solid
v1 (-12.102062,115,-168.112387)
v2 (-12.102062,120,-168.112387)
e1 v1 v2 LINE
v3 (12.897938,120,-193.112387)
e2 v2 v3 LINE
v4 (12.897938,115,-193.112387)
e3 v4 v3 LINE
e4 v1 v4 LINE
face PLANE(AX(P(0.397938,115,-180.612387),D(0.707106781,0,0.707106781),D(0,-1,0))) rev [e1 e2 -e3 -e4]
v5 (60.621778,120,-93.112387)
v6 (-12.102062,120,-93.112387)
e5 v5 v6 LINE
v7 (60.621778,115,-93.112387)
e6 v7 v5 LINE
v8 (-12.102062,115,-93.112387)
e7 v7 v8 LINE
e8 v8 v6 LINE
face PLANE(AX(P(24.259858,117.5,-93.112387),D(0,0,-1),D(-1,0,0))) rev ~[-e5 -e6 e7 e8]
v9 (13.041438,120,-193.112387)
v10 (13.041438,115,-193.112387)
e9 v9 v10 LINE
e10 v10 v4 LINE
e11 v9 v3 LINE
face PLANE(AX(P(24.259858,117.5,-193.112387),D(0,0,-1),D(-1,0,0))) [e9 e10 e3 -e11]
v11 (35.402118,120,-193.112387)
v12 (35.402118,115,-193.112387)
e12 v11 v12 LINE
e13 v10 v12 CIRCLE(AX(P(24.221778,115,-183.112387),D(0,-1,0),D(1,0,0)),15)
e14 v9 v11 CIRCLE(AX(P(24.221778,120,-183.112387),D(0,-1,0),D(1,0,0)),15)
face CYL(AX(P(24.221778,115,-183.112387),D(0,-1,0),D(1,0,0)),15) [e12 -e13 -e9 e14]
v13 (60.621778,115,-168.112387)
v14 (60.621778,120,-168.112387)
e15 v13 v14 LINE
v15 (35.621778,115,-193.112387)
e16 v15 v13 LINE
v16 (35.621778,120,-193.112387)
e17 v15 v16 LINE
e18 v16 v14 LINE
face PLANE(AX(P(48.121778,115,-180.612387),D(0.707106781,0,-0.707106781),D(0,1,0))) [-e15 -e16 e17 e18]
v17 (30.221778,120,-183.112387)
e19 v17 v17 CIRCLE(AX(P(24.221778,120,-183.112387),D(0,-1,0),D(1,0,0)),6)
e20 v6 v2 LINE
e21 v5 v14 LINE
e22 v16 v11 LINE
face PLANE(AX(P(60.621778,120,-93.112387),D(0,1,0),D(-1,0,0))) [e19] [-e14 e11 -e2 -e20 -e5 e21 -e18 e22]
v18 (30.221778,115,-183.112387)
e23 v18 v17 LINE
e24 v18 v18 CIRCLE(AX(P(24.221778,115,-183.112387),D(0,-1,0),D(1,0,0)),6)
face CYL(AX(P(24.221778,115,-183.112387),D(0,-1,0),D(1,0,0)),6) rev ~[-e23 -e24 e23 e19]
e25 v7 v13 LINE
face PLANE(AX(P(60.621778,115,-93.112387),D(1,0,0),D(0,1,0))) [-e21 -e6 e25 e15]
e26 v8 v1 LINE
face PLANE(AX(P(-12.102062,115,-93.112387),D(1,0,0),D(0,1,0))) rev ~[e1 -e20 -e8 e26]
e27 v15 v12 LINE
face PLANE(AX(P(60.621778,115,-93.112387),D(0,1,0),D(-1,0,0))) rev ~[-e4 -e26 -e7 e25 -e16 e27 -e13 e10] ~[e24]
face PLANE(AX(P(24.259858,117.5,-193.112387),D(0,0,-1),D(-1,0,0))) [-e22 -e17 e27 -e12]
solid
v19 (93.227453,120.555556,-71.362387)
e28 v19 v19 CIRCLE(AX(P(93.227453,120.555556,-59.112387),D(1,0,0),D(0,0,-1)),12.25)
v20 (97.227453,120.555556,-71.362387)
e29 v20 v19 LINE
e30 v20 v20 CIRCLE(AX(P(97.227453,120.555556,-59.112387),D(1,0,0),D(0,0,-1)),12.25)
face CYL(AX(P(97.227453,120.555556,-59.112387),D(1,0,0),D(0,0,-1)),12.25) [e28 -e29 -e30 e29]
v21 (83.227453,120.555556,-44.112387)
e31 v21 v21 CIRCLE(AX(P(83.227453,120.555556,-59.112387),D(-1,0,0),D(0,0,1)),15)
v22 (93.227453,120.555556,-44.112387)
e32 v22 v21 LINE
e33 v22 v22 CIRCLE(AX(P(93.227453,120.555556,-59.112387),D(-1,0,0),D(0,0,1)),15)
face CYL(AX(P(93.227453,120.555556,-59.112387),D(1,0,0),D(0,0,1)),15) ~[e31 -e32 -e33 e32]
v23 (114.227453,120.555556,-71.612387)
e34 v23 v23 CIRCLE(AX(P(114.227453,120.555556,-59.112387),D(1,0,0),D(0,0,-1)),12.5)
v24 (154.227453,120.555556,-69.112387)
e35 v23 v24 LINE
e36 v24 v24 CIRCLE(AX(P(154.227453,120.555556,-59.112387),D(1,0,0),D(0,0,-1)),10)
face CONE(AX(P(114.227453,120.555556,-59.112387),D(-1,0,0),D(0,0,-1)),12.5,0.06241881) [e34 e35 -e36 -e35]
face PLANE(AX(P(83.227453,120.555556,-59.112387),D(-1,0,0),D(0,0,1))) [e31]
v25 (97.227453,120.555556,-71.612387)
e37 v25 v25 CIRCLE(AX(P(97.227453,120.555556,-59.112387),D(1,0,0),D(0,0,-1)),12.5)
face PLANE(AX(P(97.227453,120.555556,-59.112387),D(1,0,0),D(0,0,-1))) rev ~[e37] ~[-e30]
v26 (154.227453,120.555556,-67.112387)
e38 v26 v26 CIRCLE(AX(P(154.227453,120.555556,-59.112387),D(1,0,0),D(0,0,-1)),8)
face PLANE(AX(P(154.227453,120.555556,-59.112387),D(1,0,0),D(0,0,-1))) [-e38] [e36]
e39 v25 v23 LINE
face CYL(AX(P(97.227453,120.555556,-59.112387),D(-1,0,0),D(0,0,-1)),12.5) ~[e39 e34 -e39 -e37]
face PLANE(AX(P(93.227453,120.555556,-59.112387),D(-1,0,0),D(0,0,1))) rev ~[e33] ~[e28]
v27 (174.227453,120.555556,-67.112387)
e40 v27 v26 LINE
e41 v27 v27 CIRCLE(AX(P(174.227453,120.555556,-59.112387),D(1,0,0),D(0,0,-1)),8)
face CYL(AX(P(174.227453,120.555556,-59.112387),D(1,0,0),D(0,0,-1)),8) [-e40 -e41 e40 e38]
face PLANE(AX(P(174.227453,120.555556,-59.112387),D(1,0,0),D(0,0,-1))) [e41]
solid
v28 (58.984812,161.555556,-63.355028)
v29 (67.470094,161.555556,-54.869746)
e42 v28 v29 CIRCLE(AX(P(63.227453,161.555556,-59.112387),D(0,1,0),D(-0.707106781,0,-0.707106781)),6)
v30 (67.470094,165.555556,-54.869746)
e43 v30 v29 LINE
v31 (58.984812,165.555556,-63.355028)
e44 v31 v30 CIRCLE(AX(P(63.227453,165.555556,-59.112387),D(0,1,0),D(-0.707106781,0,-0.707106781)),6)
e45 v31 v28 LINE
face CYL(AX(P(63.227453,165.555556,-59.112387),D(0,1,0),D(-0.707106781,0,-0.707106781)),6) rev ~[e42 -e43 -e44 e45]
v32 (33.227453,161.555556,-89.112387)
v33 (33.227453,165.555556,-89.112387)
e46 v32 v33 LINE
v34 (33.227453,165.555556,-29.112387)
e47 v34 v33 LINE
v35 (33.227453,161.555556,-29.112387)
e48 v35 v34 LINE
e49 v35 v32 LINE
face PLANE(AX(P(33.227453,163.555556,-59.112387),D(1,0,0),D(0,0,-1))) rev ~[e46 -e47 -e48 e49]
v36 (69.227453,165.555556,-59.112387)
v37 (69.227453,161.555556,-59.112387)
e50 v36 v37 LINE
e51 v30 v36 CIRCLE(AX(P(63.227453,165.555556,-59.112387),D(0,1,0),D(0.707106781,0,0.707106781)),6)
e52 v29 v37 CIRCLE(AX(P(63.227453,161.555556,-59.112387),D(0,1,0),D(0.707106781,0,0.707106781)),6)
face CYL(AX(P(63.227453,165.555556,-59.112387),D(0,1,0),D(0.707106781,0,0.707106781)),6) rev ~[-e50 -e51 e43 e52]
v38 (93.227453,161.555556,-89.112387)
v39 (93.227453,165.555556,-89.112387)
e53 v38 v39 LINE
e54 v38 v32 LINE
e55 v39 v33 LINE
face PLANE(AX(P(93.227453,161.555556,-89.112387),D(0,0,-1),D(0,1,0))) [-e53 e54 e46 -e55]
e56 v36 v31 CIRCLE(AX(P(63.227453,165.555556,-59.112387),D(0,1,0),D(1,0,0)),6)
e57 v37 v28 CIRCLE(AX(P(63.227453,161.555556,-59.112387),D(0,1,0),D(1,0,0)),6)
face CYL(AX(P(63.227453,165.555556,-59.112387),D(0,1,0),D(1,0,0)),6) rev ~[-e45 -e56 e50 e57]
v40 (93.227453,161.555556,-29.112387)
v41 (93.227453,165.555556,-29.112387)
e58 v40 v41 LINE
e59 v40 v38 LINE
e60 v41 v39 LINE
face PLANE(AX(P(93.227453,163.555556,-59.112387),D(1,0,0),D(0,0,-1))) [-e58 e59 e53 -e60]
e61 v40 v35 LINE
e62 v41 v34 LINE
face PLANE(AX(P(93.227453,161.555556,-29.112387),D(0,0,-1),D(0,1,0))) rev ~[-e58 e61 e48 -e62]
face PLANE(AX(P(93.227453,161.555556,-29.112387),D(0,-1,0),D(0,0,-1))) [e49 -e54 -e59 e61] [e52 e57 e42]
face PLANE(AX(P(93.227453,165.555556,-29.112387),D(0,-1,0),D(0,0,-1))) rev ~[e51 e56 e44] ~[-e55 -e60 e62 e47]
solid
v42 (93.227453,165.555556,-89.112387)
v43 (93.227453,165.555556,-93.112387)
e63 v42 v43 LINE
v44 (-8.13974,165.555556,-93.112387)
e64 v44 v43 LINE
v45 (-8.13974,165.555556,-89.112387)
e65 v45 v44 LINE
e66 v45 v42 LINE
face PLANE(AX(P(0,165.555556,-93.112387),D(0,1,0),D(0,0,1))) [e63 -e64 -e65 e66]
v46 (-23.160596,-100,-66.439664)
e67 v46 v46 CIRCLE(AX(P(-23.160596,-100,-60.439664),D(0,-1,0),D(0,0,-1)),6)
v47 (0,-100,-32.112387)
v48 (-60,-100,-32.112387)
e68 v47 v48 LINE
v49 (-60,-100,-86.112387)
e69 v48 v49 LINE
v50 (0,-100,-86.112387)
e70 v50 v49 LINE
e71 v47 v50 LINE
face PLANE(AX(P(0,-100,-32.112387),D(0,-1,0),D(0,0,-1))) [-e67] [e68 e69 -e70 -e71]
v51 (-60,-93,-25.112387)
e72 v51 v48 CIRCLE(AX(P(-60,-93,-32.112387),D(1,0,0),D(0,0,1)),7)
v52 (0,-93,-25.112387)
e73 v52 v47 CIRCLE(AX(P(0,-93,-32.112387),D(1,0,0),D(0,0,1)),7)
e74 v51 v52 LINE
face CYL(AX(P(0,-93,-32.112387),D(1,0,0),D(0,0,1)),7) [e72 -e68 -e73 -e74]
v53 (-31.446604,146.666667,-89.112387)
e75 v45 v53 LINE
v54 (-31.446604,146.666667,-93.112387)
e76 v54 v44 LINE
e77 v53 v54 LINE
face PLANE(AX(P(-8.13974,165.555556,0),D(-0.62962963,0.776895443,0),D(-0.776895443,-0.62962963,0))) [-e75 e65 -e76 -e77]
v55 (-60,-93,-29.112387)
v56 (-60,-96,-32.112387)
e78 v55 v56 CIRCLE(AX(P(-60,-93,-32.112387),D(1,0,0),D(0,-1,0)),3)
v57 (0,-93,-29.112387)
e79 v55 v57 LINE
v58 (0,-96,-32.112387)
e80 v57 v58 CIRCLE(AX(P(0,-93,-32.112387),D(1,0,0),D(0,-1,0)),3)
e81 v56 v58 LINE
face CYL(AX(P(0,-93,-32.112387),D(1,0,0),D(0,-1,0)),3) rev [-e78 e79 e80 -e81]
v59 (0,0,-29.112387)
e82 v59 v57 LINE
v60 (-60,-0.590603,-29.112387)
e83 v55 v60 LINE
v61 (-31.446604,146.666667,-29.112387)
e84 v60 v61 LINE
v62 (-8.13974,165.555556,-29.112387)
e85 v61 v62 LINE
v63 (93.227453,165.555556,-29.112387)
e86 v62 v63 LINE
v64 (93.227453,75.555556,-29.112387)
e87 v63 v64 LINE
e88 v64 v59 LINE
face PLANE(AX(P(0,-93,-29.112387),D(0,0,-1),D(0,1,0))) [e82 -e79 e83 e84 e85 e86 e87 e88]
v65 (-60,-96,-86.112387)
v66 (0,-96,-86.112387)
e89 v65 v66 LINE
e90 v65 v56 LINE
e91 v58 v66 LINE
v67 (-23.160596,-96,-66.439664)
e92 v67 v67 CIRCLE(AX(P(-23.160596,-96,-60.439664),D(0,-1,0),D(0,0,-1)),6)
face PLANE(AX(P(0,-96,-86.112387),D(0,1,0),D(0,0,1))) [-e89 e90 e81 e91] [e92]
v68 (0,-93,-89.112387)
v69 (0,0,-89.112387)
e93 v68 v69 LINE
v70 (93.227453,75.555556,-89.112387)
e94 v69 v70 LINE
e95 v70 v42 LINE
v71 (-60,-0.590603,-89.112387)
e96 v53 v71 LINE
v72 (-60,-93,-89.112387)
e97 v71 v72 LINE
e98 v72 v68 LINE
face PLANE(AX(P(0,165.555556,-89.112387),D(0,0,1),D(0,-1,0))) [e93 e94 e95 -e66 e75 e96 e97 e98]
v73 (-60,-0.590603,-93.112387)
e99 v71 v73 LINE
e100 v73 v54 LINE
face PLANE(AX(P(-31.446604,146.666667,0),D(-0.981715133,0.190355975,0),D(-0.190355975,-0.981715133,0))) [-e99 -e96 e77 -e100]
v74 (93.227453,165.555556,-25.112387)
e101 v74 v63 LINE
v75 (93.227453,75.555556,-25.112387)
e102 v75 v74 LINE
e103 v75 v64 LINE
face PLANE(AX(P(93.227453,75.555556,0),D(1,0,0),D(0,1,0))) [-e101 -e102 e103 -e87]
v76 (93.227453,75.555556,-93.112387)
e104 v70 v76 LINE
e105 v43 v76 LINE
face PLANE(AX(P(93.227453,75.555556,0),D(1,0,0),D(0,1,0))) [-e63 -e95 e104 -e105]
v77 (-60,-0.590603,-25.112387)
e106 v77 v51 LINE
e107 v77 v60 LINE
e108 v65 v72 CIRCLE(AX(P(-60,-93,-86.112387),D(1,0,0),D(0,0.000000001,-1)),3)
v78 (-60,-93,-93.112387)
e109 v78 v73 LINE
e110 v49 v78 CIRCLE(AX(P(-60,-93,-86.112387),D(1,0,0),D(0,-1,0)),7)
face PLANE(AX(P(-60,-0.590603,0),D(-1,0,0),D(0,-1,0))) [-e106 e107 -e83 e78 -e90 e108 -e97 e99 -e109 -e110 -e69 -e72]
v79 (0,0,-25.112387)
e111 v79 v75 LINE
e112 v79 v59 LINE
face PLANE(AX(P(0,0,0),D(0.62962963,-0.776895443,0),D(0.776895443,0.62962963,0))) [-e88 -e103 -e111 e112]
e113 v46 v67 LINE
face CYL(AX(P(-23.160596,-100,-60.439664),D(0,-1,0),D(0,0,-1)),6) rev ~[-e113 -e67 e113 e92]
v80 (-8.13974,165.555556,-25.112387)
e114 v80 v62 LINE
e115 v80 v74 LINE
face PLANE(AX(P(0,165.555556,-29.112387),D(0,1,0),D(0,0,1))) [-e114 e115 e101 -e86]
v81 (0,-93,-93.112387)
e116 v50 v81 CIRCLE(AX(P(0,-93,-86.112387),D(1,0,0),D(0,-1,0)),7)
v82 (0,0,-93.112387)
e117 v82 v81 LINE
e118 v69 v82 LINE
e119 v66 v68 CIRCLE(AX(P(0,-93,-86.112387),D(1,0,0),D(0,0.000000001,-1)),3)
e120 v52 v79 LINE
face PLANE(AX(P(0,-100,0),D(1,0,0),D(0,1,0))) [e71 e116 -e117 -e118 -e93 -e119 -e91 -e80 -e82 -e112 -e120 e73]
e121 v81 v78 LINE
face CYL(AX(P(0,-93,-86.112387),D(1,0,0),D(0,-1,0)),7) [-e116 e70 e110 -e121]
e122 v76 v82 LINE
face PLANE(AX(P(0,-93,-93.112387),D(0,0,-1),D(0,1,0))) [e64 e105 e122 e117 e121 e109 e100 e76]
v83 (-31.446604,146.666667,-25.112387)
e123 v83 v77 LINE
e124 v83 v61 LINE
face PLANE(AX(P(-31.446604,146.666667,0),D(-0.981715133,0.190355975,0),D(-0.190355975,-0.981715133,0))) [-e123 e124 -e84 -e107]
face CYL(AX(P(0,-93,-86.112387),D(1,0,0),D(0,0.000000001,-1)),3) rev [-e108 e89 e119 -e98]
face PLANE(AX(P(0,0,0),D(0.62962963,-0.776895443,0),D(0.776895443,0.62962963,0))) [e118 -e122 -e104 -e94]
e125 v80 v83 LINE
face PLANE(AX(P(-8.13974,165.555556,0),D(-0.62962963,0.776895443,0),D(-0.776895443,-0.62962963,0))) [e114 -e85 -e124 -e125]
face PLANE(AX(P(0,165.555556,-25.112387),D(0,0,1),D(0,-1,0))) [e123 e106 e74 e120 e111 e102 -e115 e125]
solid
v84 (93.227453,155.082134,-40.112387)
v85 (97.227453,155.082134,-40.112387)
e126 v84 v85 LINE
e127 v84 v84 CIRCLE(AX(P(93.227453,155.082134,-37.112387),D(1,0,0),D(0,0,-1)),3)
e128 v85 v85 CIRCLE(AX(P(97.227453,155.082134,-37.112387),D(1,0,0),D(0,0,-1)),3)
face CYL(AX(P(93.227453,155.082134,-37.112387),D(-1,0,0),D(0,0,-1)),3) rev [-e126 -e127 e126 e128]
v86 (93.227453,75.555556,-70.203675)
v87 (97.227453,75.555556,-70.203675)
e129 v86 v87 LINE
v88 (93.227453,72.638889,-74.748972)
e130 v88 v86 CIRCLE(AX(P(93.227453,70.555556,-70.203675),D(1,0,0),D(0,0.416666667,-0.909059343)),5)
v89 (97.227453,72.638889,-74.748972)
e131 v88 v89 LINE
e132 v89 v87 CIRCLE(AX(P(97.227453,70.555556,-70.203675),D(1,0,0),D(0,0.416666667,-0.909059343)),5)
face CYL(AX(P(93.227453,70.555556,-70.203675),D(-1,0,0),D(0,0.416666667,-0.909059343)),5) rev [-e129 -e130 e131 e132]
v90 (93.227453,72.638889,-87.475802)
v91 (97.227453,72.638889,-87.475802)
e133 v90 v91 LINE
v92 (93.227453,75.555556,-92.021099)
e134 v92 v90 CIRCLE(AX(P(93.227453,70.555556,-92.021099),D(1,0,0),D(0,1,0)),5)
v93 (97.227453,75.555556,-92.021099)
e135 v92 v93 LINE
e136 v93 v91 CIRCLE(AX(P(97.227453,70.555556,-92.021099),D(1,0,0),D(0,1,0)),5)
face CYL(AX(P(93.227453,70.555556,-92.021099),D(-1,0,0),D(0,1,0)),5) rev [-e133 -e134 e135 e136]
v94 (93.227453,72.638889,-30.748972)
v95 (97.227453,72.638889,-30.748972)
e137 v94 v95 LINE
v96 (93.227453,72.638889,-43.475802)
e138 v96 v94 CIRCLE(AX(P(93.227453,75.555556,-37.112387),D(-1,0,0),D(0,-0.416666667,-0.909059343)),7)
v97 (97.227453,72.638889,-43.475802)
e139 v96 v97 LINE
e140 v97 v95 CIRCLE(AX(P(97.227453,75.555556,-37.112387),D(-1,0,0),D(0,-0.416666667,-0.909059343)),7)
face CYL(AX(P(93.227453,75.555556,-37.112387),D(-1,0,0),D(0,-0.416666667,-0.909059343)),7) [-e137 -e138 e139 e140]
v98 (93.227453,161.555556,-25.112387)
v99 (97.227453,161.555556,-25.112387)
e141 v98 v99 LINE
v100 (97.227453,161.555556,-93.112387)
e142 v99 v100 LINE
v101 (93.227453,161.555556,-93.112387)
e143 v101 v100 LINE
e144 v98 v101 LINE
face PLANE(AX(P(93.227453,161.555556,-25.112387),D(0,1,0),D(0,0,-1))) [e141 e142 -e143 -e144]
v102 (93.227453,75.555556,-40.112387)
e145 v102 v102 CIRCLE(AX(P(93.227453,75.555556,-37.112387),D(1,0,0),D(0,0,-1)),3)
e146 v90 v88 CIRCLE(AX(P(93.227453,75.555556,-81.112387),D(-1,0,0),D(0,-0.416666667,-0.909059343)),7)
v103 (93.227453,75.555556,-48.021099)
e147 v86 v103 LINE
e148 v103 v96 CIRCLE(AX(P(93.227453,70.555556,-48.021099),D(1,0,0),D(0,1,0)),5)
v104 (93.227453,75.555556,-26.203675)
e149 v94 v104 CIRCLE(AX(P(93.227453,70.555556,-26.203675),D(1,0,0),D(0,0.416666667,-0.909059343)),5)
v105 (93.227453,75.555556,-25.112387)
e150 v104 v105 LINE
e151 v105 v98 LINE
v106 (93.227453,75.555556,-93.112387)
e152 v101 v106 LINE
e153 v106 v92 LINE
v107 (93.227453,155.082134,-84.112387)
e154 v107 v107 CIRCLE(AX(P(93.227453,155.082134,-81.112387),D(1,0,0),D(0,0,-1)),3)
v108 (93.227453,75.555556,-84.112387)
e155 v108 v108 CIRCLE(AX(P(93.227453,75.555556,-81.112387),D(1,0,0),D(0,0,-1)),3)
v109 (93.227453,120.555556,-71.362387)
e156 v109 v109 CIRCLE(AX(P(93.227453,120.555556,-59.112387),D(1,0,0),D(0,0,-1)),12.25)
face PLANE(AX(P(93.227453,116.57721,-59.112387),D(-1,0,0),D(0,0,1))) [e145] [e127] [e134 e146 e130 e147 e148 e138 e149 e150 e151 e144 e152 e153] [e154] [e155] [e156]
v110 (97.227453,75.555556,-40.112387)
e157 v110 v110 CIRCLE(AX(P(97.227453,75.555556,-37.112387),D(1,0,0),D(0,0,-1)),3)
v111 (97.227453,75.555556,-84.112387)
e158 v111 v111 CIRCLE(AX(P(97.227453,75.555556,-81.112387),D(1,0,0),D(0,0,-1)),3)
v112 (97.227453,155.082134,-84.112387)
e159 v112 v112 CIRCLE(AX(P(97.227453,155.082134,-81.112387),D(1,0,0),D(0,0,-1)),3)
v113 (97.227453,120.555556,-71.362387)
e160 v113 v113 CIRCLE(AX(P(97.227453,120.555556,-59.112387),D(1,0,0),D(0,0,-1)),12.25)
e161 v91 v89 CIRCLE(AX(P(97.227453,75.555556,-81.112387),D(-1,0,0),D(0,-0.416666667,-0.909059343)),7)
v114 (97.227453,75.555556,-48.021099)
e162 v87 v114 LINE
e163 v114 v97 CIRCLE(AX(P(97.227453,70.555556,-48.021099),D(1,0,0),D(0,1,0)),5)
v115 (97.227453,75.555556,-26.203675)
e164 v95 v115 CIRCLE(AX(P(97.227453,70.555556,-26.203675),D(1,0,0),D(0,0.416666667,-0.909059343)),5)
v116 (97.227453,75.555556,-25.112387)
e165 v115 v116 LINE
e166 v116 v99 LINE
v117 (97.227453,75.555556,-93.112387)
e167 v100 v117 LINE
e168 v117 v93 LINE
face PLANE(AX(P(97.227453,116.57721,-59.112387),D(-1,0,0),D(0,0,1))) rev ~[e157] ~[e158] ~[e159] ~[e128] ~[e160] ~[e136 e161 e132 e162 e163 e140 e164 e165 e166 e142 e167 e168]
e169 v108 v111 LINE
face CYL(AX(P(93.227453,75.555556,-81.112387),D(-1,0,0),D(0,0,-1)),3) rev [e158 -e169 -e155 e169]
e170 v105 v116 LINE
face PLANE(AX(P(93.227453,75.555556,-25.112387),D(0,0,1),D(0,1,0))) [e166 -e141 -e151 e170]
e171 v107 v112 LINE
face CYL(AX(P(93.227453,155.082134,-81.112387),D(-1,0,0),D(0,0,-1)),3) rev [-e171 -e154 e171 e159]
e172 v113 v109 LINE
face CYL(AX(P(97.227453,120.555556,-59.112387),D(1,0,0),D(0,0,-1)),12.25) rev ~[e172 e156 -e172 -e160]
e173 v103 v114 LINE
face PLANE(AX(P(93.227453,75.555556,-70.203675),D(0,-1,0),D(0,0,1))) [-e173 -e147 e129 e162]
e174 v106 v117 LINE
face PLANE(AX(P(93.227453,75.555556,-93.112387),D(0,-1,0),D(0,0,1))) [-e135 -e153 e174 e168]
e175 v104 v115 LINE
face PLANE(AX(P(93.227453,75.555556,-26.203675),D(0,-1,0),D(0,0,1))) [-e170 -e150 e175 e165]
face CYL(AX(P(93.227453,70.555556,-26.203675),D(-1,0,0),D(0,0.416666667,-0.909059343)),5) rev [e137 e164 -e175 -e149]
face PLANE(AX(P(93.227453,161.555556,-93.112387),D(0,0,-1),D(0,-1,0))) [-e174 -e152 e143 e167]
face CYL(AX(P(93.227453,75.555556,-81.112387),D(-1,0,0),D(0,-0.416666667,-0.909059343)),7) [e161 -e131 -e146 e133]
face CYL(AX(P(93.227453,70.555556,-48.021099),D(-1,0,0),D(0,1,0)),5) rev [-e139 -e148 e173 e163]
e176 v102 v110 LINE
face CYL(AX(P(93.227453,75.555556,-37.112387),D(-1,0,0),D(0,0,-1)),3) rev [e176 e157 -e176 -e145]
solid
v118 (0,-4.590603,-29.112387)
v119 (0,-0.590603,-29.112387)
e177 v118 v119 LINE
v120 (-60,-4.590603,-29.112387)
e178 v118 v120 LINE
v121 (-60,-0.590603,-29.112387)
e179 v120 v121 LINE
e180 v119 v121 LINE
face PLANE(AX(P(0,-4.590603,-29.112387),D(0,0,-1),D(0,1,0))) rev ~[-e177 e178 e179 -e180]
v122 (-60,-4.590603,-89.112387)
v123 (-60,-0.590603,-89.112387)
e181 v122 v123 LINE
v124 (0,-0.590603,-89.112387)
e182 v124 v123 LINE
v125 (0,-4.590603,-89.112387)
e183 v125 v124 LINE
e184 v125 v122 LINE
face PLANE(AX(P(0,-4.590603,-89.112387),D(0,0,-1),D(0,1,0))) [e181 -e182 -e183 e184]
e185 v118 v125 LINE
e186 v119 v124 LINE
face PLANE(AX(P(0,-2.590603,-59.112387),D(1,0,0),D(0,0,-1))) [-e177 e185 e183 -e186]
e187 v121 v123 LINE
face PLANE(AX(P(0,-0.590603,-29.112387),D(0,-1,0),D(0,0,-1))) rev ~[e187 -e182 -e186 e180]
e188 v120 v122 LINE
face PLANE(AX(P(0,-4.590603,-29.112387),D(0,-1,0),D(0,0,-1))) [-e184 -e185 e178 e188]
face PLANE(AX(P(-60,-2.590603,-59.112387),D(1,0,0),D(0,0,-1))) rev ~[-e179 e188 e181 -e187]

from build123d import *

# Parameters (mm, degrees)
BOSS_EXTRUDE2_DEPTH  = 107
CUT_EXTRUDE1_DEPTH   = 214
SKETCH5_W            = 60
SKETCH5_H            = 4
BOSS_EXTRUDE3_DEPTH  = 60
SKETCH6_W            = 60
SKETCH6_H            = 4
BOSS_EXTRUDE4_DEPTH  = 60
SKETCH7_R            = 3
BOSS_EXTRUDE5_DEPTH  = 4
SKETCH8_W            = 72.723840611
SKETCH8_H            = 5
BOSS_EXTRUDE6_DEPTH  = 100
CHAMFER1_SIZE        = 25
CHAMFER2_SIZE        = 25
SKETCH9_R            = 15
BOSS_EXTRUDE7_DEPTH  = 5
SKETCH10_R           = 12.25
CUT_EXTRUDE2_DEPTH   = 4
CUT_EXTRUDE5_DEPTH   = 8
SKETCH13_R           = 6
CUT_EXTRUDE6_DEPTH   = 10
SKETCH15_R           = 15
BOSS_EXTRUDE8_DEPTH  = 10
SKETCH16_R           = 12.25
BOSS_EXTRUDE9_DEPTH  = 10
SKETCH17_R           = 12.5
BOSS_EXTRUDE10_DEPTH = 77
SKETCH18_R           = 12.5
SKETCH18_R_2         = 8
CUT_EXTRUDE7_DEPTH   = 20
CHAMFER3_SIZE        = 40
CHAMFER3_SIZE2       = 2.5
SKETCH19_R           = 6
CUT_EXTRUDE8_DEPTH   = 20


with BuildPart() as part:
    # Sketch3 → Boss-Extrude2 (new, symmetric)
    with BuildSketch(Plane(origin=(0, 0, 0), x_dir=(0, 0, -1), z_dir=(1, 0, 0))):
        with BuildLine():
            Line((93.112387021, -93), (93.112387021, 165.555555556))
            Line((93.112387021, 165.555555556), (89.112387021, 165.555555556))
            Line((89.112387021, 165.555555556), (89.112387021, -93))
            ThreePointArc((89.112387021, -93), (88.233707365, -95.121320344), (86.112387021, -96))
            Line((86.112387021, -96), (32.112387021, -96))
            ThreePointArc((32.112387021, -96), (29.991066678, -95.121320344), (29.112387021, -93))
            Line((29.112387021, -93), (29.112387021, 165.555555556))
            Line((29.112387021, 165.555555556), (25.112387021, 165.555555556))
            Line((25.112387021, 165.555555556), (25.112387021, -93))
            ThreePointArc((25.112387021, -93), (27.162639553, -97.949747468), (32.112387021, -100))
            Line((32.112387021, -100), (86.112387021, -100))
            ThreePointArc((86.112387021, -100), (91.06213449, -97.949747468), (93.112387021, -93))
        make_face()
    extrude(amount=BOSS_EXTRUDE2_DEPTH, both=True)

    # Sketch4 → Cut-Extrude1 (cut)
    with BuildSketch(Plane.XY):
        Polygon((-190, 11.896699378), (-190, -230), (130, -230), (130, -61.975068301), (223.227453171, 13.580487255), (223.227453171, 295.555555556), (-54.204269584, 295.555555556), (-150.061773181, 217.868493514), align=None)
        Polygon((-60, -0.59060332), (-60, -100), (0, -100), (0, 0), (93.227453171, 75.555555556), (93.227453171, 165.555555556), (-8.139740481, 165.555555556), (-31.446603774, 146.666666667), align=None, mode=Mode.SUBTRACT)
    extrude(amount=-CUT_EXTRUDE1_DEPTH, mode=Mode.SUBTRACT)

    # Sketch13 → Cut-Extrude6 (cut)
    with BuildSketch(Plane.XZ.offset(100)):
        with Locations(Location((-23.160596036, -60.439663785, 0), (0, 0, 270))):
            Circle(SKETCH13_R)
    extrude(amount=-CUT_EXTRUDE6_DEPTH, mode=Mode.SUBTRACT)


with BuildPart() as body_2:
    # Sketch5 → Boss-Extrude3 (new body)
    with BuildSketch(Plane(origin=(0, 0, 0), x_dir=(0, 0, -1), z_dir=(1, 0, 0))):
        with Locations((59.112387021, -2.59060332)):
            Rectangle(SKETCH5_W, SKETCH5_H)
    extrude(amount=-BOSS_EXTRUDE3_DEPTH)


with BuildPart() as body_3:
    # Sketch6 → Boss-Extrude4 (new body)
    with BuildSketch(Plane(origin=(93.227453171, 0, 0), x_dir=(0, 0, -1), z_dir=(1, 0, 0))):
        with Locations((59.112387021, 163.555555556)):
            Rectangle(SKETCH6_W, SKETCH6_H)
    extrude(amount=-BOSS_EXTRUDE4_DEPTH)

    # Sketch12 → Cut-Extrude5 (cut)
    with BuildSketch(Plane(origin=(0, 165.555555556, 0), x_dir=(1, 0, 0), z_dir=(0, 1, 0))):
        with BuildLine():
            ThreePointArc((69.227453171, 59.112387021), (65.523553765, 64.655664216), (58.984812484, 63.355027708))
            Line((58.984812484, 63.355027708), (67.470093858, 54.869746334))
            ThreePointArc((67.470093858, 54.869746334), (68.770730366, 56.816286427), (69.227453171, 59.112387021))
        make_face()
        with BuildLine():
            Line((67.470093858, 54.869746334), (58.984812484, 63.355027708))
            ThreePointArc((58.984812484, 63.355027708), (58.984812484, 54.869746334), (67.470093858, 54.869746334))
        make_face()
    extrude(amount=-CUT_EXTRUDE5_DEPTH, mode=Mode.SUBTRACT)


with BuildPart() as body_4:
    # Sketch7 → Boss-Extrude5 (new body)
    with BuildSketch(Plane(origin=(93.227453171, 0, 0), x_dir=(0, 0, -1), z_dir=(1, 0, 0))):
        with BuildLine():
            Line((25.112387021, 161.555555556), (93.112387021, 161.555555556))
            Line((93.112387021, 161.555555556), (93.112387021, 75.555555556))
            Line((93.112387021, 75.555555556), (92.021099136, 75.555555556))
            ThreePointArc((92.021099136, 75.555555556), (89.320790512, 74.763682613), (87.475802422, 72.638888889))
            ThreePointArc((87.475802422, 72.638888889), (81.112387021, 68.555555556), (74.748971621, 72.638888889))
            ThreePointArc((74.748971621, 72.638888889), (72.903983531, 74.763682613), (70.203674907, 75.555555556))
            Line((70.203674907, 75.555555556), (48.021099136, 75.555555556))
            ThreePointArc((48.021099136, 75.555555556), (45.320790512, 74.763682613), (43.475802422, 72.638888889))
            ThreePointArc((43.475802422, 72.638888889), (37.112387021, 68.555555556), (30.748971621, 72.638888889))
            ThreePointArc((30.748971621, 72.638888889), (28.903983531, 74.763682613), (26.203674907, 75.555555556))
            Line((26.203674907, 75.555555556), (25.112387021, 75.555555556))
            Line((25.112387021, 75.555555556), (25.112387021, 161.555555556))
        make_face()
        with Locations((37.112387021, 155.082134103)):
            Circle(SKETCH7_R, mode=Mode.SUBTRACT)
        with Locations((81.112387021, 155.082134103)):
            Circle(SKETCH7_R, mode=Mode.SUBTRACT)
        with Locations((37.112387021, 75.555555556)):
            Circle(SKETCH7_R, mode=Mode.SUBTRACT)
        with Locations((81.112387021, 75.555555556)):
            Circle(SKETCH7_R, mode=Mode.SUBTRACT)
    extrude(amount=BOSS_EXTRUDE5_DEPTH)

    # Sketch10 → Cut-Extrude2 (cut)
    with BuildSketch(Plane(origin=(97.227453171, 0, 0), x_dir=(0, 0, -1), z_dir=(1, 0, 0))):
        with Locations((59.112387021, 120.555555556)):
            Circle(SKETCH10_R)
    extrude(amount=-CUT_EXTRUDE2_DEPTH, mode=Mode.SUBTRACT)


with BuildPart() as body_5:
    # Sketch8 → Boss-Extrude6 (new body)
    with BuildSketch(Plane(origin=(0, 0, -93.112387021), x_dir=(-1, 0, 0), z_dir=(0, 0, -1))):
        with Locations((-24.25985796, 117.5)):
            Rectangle(SKETCH8_W, SKETCH8_H)
    extrude(amount=BOSS_EXTRUDE6_DEPTH)

    # Chamfer1
    chamfer1_edges = [body_5.edges().sort_by_distance(p)[0] for p in [
        (-12.102062346, 117.5, -193.112387021),
    ]]
    chamfer(chamfer1_edges, length=CHAMFER1_SIZE)

    # Chamfer2
    chamfer2_edges = [body_5.edges().sort_by_distance(p)[0] for p in [
        (60.621778265, 117.5, -193.112387021),
    ]]
    chamfer(chamfer2_edges, length=CHAMFER2_SIZE)

    # Sketch9 → Boss-Extrude7 (add)
    with BuildSketch(Plane.XZ.offset(-115)):
        with Locations((24.221778265, -183.112387021)):
            Circle(SKETCH9_R)
    extrude(amount=-BOSS_EXTRUDE7_DEPTH)

    # Sketch19 → Cut-Extrude8 (cut)
    with BuildSketch(Plane.XZ.offset(-115)):
        with Locations((24.221778265, -183.112387021)):
            Circle(SKETCH19_R)
    extrude(amount=-CUT_EXTRUDE8_DEPTH, mode=Mode.SUBTRACT)


with BuildPart() as body_6:
    # Sketch15 → Boss-Extrude8 (new body)
    with BuildSketch(Plane.ZY.offset(-93.227453171)):
        with Locations((-59.112387021, 120.555555556)):
            Circle(SKETCH15_R)
    extrude(amount=BOSS_EXTRUDE8_DEPTH)


with BuildPart() as body_7:
    # Sketch16 → Boss-Extrude9 (new body)
    with BuildSketch(Plane(origin=(97.227453171, 0, 0), x_dir=(0, 0, -1), z_dir=(1, 0, 0))):
        with Locations((59.112387021, 120.555555556)):
            Circle(SKETCH16_R)
    extrude(amount=-BOSS_EXTRUDE9_DEPTH)


with BuildPart() as body_8:
    # Sketch17 → Boss-Extrude10 (new body)
    with BuildSketch(Plane(origin=(97.227453171, 0, 0), x_dir=(0, 0, -1), z_dir=(1, 0, 0))):
        with Locations((59.112387021, 120.555555556)):
            Circle(SKETCH17_R)
    extrude(amount=BOSS_EXTRUDE10_DEPTH)

    # Sketch18 → Cut-Extrude7 (cut)
    with BuildSketch(Plane(origin=(174.227453171, 0, 0), x_dir=(0, 0, -1), z_dir=(1, 0, 0))):
        with Locations((59.112387021, 120.555555556)):
            Circle(SKETCH18_R)
        with Locations((59.112387021, 120.555555556)):
            Circle(SKETCH18_R_2, mode=Mode.SUBTRACT)
    extrude(amount=-CUT_EXTRUDE7_DEPTH, mode=Mode.SUBTRACT)

    # Chamfer3
    chamfer3_edges = [body_8.edges().sort_by_distance(p)[0] for p in [
        (154.227453171, 120.555555556, -46.612387021),
    ]]
    chamfer3_side = [body_8.faces().sort_by_distance(p)[0] for p in [
        (125.727453171, 120.555555556, -46.612387021),
    ]]
    chamfer(chamfer3_edges, length=CHAMFER3_SIZE, length2=CHAMFER3_SIZE2, reference=chamfer3_side[0])

    # Combine1: union body 7, body 6
    add(body_7.part)
    add(body_6.part)


solid = Compound([part.part, body_2.part, body_3.part, body_4.part, body_5.part, body_8.part])
